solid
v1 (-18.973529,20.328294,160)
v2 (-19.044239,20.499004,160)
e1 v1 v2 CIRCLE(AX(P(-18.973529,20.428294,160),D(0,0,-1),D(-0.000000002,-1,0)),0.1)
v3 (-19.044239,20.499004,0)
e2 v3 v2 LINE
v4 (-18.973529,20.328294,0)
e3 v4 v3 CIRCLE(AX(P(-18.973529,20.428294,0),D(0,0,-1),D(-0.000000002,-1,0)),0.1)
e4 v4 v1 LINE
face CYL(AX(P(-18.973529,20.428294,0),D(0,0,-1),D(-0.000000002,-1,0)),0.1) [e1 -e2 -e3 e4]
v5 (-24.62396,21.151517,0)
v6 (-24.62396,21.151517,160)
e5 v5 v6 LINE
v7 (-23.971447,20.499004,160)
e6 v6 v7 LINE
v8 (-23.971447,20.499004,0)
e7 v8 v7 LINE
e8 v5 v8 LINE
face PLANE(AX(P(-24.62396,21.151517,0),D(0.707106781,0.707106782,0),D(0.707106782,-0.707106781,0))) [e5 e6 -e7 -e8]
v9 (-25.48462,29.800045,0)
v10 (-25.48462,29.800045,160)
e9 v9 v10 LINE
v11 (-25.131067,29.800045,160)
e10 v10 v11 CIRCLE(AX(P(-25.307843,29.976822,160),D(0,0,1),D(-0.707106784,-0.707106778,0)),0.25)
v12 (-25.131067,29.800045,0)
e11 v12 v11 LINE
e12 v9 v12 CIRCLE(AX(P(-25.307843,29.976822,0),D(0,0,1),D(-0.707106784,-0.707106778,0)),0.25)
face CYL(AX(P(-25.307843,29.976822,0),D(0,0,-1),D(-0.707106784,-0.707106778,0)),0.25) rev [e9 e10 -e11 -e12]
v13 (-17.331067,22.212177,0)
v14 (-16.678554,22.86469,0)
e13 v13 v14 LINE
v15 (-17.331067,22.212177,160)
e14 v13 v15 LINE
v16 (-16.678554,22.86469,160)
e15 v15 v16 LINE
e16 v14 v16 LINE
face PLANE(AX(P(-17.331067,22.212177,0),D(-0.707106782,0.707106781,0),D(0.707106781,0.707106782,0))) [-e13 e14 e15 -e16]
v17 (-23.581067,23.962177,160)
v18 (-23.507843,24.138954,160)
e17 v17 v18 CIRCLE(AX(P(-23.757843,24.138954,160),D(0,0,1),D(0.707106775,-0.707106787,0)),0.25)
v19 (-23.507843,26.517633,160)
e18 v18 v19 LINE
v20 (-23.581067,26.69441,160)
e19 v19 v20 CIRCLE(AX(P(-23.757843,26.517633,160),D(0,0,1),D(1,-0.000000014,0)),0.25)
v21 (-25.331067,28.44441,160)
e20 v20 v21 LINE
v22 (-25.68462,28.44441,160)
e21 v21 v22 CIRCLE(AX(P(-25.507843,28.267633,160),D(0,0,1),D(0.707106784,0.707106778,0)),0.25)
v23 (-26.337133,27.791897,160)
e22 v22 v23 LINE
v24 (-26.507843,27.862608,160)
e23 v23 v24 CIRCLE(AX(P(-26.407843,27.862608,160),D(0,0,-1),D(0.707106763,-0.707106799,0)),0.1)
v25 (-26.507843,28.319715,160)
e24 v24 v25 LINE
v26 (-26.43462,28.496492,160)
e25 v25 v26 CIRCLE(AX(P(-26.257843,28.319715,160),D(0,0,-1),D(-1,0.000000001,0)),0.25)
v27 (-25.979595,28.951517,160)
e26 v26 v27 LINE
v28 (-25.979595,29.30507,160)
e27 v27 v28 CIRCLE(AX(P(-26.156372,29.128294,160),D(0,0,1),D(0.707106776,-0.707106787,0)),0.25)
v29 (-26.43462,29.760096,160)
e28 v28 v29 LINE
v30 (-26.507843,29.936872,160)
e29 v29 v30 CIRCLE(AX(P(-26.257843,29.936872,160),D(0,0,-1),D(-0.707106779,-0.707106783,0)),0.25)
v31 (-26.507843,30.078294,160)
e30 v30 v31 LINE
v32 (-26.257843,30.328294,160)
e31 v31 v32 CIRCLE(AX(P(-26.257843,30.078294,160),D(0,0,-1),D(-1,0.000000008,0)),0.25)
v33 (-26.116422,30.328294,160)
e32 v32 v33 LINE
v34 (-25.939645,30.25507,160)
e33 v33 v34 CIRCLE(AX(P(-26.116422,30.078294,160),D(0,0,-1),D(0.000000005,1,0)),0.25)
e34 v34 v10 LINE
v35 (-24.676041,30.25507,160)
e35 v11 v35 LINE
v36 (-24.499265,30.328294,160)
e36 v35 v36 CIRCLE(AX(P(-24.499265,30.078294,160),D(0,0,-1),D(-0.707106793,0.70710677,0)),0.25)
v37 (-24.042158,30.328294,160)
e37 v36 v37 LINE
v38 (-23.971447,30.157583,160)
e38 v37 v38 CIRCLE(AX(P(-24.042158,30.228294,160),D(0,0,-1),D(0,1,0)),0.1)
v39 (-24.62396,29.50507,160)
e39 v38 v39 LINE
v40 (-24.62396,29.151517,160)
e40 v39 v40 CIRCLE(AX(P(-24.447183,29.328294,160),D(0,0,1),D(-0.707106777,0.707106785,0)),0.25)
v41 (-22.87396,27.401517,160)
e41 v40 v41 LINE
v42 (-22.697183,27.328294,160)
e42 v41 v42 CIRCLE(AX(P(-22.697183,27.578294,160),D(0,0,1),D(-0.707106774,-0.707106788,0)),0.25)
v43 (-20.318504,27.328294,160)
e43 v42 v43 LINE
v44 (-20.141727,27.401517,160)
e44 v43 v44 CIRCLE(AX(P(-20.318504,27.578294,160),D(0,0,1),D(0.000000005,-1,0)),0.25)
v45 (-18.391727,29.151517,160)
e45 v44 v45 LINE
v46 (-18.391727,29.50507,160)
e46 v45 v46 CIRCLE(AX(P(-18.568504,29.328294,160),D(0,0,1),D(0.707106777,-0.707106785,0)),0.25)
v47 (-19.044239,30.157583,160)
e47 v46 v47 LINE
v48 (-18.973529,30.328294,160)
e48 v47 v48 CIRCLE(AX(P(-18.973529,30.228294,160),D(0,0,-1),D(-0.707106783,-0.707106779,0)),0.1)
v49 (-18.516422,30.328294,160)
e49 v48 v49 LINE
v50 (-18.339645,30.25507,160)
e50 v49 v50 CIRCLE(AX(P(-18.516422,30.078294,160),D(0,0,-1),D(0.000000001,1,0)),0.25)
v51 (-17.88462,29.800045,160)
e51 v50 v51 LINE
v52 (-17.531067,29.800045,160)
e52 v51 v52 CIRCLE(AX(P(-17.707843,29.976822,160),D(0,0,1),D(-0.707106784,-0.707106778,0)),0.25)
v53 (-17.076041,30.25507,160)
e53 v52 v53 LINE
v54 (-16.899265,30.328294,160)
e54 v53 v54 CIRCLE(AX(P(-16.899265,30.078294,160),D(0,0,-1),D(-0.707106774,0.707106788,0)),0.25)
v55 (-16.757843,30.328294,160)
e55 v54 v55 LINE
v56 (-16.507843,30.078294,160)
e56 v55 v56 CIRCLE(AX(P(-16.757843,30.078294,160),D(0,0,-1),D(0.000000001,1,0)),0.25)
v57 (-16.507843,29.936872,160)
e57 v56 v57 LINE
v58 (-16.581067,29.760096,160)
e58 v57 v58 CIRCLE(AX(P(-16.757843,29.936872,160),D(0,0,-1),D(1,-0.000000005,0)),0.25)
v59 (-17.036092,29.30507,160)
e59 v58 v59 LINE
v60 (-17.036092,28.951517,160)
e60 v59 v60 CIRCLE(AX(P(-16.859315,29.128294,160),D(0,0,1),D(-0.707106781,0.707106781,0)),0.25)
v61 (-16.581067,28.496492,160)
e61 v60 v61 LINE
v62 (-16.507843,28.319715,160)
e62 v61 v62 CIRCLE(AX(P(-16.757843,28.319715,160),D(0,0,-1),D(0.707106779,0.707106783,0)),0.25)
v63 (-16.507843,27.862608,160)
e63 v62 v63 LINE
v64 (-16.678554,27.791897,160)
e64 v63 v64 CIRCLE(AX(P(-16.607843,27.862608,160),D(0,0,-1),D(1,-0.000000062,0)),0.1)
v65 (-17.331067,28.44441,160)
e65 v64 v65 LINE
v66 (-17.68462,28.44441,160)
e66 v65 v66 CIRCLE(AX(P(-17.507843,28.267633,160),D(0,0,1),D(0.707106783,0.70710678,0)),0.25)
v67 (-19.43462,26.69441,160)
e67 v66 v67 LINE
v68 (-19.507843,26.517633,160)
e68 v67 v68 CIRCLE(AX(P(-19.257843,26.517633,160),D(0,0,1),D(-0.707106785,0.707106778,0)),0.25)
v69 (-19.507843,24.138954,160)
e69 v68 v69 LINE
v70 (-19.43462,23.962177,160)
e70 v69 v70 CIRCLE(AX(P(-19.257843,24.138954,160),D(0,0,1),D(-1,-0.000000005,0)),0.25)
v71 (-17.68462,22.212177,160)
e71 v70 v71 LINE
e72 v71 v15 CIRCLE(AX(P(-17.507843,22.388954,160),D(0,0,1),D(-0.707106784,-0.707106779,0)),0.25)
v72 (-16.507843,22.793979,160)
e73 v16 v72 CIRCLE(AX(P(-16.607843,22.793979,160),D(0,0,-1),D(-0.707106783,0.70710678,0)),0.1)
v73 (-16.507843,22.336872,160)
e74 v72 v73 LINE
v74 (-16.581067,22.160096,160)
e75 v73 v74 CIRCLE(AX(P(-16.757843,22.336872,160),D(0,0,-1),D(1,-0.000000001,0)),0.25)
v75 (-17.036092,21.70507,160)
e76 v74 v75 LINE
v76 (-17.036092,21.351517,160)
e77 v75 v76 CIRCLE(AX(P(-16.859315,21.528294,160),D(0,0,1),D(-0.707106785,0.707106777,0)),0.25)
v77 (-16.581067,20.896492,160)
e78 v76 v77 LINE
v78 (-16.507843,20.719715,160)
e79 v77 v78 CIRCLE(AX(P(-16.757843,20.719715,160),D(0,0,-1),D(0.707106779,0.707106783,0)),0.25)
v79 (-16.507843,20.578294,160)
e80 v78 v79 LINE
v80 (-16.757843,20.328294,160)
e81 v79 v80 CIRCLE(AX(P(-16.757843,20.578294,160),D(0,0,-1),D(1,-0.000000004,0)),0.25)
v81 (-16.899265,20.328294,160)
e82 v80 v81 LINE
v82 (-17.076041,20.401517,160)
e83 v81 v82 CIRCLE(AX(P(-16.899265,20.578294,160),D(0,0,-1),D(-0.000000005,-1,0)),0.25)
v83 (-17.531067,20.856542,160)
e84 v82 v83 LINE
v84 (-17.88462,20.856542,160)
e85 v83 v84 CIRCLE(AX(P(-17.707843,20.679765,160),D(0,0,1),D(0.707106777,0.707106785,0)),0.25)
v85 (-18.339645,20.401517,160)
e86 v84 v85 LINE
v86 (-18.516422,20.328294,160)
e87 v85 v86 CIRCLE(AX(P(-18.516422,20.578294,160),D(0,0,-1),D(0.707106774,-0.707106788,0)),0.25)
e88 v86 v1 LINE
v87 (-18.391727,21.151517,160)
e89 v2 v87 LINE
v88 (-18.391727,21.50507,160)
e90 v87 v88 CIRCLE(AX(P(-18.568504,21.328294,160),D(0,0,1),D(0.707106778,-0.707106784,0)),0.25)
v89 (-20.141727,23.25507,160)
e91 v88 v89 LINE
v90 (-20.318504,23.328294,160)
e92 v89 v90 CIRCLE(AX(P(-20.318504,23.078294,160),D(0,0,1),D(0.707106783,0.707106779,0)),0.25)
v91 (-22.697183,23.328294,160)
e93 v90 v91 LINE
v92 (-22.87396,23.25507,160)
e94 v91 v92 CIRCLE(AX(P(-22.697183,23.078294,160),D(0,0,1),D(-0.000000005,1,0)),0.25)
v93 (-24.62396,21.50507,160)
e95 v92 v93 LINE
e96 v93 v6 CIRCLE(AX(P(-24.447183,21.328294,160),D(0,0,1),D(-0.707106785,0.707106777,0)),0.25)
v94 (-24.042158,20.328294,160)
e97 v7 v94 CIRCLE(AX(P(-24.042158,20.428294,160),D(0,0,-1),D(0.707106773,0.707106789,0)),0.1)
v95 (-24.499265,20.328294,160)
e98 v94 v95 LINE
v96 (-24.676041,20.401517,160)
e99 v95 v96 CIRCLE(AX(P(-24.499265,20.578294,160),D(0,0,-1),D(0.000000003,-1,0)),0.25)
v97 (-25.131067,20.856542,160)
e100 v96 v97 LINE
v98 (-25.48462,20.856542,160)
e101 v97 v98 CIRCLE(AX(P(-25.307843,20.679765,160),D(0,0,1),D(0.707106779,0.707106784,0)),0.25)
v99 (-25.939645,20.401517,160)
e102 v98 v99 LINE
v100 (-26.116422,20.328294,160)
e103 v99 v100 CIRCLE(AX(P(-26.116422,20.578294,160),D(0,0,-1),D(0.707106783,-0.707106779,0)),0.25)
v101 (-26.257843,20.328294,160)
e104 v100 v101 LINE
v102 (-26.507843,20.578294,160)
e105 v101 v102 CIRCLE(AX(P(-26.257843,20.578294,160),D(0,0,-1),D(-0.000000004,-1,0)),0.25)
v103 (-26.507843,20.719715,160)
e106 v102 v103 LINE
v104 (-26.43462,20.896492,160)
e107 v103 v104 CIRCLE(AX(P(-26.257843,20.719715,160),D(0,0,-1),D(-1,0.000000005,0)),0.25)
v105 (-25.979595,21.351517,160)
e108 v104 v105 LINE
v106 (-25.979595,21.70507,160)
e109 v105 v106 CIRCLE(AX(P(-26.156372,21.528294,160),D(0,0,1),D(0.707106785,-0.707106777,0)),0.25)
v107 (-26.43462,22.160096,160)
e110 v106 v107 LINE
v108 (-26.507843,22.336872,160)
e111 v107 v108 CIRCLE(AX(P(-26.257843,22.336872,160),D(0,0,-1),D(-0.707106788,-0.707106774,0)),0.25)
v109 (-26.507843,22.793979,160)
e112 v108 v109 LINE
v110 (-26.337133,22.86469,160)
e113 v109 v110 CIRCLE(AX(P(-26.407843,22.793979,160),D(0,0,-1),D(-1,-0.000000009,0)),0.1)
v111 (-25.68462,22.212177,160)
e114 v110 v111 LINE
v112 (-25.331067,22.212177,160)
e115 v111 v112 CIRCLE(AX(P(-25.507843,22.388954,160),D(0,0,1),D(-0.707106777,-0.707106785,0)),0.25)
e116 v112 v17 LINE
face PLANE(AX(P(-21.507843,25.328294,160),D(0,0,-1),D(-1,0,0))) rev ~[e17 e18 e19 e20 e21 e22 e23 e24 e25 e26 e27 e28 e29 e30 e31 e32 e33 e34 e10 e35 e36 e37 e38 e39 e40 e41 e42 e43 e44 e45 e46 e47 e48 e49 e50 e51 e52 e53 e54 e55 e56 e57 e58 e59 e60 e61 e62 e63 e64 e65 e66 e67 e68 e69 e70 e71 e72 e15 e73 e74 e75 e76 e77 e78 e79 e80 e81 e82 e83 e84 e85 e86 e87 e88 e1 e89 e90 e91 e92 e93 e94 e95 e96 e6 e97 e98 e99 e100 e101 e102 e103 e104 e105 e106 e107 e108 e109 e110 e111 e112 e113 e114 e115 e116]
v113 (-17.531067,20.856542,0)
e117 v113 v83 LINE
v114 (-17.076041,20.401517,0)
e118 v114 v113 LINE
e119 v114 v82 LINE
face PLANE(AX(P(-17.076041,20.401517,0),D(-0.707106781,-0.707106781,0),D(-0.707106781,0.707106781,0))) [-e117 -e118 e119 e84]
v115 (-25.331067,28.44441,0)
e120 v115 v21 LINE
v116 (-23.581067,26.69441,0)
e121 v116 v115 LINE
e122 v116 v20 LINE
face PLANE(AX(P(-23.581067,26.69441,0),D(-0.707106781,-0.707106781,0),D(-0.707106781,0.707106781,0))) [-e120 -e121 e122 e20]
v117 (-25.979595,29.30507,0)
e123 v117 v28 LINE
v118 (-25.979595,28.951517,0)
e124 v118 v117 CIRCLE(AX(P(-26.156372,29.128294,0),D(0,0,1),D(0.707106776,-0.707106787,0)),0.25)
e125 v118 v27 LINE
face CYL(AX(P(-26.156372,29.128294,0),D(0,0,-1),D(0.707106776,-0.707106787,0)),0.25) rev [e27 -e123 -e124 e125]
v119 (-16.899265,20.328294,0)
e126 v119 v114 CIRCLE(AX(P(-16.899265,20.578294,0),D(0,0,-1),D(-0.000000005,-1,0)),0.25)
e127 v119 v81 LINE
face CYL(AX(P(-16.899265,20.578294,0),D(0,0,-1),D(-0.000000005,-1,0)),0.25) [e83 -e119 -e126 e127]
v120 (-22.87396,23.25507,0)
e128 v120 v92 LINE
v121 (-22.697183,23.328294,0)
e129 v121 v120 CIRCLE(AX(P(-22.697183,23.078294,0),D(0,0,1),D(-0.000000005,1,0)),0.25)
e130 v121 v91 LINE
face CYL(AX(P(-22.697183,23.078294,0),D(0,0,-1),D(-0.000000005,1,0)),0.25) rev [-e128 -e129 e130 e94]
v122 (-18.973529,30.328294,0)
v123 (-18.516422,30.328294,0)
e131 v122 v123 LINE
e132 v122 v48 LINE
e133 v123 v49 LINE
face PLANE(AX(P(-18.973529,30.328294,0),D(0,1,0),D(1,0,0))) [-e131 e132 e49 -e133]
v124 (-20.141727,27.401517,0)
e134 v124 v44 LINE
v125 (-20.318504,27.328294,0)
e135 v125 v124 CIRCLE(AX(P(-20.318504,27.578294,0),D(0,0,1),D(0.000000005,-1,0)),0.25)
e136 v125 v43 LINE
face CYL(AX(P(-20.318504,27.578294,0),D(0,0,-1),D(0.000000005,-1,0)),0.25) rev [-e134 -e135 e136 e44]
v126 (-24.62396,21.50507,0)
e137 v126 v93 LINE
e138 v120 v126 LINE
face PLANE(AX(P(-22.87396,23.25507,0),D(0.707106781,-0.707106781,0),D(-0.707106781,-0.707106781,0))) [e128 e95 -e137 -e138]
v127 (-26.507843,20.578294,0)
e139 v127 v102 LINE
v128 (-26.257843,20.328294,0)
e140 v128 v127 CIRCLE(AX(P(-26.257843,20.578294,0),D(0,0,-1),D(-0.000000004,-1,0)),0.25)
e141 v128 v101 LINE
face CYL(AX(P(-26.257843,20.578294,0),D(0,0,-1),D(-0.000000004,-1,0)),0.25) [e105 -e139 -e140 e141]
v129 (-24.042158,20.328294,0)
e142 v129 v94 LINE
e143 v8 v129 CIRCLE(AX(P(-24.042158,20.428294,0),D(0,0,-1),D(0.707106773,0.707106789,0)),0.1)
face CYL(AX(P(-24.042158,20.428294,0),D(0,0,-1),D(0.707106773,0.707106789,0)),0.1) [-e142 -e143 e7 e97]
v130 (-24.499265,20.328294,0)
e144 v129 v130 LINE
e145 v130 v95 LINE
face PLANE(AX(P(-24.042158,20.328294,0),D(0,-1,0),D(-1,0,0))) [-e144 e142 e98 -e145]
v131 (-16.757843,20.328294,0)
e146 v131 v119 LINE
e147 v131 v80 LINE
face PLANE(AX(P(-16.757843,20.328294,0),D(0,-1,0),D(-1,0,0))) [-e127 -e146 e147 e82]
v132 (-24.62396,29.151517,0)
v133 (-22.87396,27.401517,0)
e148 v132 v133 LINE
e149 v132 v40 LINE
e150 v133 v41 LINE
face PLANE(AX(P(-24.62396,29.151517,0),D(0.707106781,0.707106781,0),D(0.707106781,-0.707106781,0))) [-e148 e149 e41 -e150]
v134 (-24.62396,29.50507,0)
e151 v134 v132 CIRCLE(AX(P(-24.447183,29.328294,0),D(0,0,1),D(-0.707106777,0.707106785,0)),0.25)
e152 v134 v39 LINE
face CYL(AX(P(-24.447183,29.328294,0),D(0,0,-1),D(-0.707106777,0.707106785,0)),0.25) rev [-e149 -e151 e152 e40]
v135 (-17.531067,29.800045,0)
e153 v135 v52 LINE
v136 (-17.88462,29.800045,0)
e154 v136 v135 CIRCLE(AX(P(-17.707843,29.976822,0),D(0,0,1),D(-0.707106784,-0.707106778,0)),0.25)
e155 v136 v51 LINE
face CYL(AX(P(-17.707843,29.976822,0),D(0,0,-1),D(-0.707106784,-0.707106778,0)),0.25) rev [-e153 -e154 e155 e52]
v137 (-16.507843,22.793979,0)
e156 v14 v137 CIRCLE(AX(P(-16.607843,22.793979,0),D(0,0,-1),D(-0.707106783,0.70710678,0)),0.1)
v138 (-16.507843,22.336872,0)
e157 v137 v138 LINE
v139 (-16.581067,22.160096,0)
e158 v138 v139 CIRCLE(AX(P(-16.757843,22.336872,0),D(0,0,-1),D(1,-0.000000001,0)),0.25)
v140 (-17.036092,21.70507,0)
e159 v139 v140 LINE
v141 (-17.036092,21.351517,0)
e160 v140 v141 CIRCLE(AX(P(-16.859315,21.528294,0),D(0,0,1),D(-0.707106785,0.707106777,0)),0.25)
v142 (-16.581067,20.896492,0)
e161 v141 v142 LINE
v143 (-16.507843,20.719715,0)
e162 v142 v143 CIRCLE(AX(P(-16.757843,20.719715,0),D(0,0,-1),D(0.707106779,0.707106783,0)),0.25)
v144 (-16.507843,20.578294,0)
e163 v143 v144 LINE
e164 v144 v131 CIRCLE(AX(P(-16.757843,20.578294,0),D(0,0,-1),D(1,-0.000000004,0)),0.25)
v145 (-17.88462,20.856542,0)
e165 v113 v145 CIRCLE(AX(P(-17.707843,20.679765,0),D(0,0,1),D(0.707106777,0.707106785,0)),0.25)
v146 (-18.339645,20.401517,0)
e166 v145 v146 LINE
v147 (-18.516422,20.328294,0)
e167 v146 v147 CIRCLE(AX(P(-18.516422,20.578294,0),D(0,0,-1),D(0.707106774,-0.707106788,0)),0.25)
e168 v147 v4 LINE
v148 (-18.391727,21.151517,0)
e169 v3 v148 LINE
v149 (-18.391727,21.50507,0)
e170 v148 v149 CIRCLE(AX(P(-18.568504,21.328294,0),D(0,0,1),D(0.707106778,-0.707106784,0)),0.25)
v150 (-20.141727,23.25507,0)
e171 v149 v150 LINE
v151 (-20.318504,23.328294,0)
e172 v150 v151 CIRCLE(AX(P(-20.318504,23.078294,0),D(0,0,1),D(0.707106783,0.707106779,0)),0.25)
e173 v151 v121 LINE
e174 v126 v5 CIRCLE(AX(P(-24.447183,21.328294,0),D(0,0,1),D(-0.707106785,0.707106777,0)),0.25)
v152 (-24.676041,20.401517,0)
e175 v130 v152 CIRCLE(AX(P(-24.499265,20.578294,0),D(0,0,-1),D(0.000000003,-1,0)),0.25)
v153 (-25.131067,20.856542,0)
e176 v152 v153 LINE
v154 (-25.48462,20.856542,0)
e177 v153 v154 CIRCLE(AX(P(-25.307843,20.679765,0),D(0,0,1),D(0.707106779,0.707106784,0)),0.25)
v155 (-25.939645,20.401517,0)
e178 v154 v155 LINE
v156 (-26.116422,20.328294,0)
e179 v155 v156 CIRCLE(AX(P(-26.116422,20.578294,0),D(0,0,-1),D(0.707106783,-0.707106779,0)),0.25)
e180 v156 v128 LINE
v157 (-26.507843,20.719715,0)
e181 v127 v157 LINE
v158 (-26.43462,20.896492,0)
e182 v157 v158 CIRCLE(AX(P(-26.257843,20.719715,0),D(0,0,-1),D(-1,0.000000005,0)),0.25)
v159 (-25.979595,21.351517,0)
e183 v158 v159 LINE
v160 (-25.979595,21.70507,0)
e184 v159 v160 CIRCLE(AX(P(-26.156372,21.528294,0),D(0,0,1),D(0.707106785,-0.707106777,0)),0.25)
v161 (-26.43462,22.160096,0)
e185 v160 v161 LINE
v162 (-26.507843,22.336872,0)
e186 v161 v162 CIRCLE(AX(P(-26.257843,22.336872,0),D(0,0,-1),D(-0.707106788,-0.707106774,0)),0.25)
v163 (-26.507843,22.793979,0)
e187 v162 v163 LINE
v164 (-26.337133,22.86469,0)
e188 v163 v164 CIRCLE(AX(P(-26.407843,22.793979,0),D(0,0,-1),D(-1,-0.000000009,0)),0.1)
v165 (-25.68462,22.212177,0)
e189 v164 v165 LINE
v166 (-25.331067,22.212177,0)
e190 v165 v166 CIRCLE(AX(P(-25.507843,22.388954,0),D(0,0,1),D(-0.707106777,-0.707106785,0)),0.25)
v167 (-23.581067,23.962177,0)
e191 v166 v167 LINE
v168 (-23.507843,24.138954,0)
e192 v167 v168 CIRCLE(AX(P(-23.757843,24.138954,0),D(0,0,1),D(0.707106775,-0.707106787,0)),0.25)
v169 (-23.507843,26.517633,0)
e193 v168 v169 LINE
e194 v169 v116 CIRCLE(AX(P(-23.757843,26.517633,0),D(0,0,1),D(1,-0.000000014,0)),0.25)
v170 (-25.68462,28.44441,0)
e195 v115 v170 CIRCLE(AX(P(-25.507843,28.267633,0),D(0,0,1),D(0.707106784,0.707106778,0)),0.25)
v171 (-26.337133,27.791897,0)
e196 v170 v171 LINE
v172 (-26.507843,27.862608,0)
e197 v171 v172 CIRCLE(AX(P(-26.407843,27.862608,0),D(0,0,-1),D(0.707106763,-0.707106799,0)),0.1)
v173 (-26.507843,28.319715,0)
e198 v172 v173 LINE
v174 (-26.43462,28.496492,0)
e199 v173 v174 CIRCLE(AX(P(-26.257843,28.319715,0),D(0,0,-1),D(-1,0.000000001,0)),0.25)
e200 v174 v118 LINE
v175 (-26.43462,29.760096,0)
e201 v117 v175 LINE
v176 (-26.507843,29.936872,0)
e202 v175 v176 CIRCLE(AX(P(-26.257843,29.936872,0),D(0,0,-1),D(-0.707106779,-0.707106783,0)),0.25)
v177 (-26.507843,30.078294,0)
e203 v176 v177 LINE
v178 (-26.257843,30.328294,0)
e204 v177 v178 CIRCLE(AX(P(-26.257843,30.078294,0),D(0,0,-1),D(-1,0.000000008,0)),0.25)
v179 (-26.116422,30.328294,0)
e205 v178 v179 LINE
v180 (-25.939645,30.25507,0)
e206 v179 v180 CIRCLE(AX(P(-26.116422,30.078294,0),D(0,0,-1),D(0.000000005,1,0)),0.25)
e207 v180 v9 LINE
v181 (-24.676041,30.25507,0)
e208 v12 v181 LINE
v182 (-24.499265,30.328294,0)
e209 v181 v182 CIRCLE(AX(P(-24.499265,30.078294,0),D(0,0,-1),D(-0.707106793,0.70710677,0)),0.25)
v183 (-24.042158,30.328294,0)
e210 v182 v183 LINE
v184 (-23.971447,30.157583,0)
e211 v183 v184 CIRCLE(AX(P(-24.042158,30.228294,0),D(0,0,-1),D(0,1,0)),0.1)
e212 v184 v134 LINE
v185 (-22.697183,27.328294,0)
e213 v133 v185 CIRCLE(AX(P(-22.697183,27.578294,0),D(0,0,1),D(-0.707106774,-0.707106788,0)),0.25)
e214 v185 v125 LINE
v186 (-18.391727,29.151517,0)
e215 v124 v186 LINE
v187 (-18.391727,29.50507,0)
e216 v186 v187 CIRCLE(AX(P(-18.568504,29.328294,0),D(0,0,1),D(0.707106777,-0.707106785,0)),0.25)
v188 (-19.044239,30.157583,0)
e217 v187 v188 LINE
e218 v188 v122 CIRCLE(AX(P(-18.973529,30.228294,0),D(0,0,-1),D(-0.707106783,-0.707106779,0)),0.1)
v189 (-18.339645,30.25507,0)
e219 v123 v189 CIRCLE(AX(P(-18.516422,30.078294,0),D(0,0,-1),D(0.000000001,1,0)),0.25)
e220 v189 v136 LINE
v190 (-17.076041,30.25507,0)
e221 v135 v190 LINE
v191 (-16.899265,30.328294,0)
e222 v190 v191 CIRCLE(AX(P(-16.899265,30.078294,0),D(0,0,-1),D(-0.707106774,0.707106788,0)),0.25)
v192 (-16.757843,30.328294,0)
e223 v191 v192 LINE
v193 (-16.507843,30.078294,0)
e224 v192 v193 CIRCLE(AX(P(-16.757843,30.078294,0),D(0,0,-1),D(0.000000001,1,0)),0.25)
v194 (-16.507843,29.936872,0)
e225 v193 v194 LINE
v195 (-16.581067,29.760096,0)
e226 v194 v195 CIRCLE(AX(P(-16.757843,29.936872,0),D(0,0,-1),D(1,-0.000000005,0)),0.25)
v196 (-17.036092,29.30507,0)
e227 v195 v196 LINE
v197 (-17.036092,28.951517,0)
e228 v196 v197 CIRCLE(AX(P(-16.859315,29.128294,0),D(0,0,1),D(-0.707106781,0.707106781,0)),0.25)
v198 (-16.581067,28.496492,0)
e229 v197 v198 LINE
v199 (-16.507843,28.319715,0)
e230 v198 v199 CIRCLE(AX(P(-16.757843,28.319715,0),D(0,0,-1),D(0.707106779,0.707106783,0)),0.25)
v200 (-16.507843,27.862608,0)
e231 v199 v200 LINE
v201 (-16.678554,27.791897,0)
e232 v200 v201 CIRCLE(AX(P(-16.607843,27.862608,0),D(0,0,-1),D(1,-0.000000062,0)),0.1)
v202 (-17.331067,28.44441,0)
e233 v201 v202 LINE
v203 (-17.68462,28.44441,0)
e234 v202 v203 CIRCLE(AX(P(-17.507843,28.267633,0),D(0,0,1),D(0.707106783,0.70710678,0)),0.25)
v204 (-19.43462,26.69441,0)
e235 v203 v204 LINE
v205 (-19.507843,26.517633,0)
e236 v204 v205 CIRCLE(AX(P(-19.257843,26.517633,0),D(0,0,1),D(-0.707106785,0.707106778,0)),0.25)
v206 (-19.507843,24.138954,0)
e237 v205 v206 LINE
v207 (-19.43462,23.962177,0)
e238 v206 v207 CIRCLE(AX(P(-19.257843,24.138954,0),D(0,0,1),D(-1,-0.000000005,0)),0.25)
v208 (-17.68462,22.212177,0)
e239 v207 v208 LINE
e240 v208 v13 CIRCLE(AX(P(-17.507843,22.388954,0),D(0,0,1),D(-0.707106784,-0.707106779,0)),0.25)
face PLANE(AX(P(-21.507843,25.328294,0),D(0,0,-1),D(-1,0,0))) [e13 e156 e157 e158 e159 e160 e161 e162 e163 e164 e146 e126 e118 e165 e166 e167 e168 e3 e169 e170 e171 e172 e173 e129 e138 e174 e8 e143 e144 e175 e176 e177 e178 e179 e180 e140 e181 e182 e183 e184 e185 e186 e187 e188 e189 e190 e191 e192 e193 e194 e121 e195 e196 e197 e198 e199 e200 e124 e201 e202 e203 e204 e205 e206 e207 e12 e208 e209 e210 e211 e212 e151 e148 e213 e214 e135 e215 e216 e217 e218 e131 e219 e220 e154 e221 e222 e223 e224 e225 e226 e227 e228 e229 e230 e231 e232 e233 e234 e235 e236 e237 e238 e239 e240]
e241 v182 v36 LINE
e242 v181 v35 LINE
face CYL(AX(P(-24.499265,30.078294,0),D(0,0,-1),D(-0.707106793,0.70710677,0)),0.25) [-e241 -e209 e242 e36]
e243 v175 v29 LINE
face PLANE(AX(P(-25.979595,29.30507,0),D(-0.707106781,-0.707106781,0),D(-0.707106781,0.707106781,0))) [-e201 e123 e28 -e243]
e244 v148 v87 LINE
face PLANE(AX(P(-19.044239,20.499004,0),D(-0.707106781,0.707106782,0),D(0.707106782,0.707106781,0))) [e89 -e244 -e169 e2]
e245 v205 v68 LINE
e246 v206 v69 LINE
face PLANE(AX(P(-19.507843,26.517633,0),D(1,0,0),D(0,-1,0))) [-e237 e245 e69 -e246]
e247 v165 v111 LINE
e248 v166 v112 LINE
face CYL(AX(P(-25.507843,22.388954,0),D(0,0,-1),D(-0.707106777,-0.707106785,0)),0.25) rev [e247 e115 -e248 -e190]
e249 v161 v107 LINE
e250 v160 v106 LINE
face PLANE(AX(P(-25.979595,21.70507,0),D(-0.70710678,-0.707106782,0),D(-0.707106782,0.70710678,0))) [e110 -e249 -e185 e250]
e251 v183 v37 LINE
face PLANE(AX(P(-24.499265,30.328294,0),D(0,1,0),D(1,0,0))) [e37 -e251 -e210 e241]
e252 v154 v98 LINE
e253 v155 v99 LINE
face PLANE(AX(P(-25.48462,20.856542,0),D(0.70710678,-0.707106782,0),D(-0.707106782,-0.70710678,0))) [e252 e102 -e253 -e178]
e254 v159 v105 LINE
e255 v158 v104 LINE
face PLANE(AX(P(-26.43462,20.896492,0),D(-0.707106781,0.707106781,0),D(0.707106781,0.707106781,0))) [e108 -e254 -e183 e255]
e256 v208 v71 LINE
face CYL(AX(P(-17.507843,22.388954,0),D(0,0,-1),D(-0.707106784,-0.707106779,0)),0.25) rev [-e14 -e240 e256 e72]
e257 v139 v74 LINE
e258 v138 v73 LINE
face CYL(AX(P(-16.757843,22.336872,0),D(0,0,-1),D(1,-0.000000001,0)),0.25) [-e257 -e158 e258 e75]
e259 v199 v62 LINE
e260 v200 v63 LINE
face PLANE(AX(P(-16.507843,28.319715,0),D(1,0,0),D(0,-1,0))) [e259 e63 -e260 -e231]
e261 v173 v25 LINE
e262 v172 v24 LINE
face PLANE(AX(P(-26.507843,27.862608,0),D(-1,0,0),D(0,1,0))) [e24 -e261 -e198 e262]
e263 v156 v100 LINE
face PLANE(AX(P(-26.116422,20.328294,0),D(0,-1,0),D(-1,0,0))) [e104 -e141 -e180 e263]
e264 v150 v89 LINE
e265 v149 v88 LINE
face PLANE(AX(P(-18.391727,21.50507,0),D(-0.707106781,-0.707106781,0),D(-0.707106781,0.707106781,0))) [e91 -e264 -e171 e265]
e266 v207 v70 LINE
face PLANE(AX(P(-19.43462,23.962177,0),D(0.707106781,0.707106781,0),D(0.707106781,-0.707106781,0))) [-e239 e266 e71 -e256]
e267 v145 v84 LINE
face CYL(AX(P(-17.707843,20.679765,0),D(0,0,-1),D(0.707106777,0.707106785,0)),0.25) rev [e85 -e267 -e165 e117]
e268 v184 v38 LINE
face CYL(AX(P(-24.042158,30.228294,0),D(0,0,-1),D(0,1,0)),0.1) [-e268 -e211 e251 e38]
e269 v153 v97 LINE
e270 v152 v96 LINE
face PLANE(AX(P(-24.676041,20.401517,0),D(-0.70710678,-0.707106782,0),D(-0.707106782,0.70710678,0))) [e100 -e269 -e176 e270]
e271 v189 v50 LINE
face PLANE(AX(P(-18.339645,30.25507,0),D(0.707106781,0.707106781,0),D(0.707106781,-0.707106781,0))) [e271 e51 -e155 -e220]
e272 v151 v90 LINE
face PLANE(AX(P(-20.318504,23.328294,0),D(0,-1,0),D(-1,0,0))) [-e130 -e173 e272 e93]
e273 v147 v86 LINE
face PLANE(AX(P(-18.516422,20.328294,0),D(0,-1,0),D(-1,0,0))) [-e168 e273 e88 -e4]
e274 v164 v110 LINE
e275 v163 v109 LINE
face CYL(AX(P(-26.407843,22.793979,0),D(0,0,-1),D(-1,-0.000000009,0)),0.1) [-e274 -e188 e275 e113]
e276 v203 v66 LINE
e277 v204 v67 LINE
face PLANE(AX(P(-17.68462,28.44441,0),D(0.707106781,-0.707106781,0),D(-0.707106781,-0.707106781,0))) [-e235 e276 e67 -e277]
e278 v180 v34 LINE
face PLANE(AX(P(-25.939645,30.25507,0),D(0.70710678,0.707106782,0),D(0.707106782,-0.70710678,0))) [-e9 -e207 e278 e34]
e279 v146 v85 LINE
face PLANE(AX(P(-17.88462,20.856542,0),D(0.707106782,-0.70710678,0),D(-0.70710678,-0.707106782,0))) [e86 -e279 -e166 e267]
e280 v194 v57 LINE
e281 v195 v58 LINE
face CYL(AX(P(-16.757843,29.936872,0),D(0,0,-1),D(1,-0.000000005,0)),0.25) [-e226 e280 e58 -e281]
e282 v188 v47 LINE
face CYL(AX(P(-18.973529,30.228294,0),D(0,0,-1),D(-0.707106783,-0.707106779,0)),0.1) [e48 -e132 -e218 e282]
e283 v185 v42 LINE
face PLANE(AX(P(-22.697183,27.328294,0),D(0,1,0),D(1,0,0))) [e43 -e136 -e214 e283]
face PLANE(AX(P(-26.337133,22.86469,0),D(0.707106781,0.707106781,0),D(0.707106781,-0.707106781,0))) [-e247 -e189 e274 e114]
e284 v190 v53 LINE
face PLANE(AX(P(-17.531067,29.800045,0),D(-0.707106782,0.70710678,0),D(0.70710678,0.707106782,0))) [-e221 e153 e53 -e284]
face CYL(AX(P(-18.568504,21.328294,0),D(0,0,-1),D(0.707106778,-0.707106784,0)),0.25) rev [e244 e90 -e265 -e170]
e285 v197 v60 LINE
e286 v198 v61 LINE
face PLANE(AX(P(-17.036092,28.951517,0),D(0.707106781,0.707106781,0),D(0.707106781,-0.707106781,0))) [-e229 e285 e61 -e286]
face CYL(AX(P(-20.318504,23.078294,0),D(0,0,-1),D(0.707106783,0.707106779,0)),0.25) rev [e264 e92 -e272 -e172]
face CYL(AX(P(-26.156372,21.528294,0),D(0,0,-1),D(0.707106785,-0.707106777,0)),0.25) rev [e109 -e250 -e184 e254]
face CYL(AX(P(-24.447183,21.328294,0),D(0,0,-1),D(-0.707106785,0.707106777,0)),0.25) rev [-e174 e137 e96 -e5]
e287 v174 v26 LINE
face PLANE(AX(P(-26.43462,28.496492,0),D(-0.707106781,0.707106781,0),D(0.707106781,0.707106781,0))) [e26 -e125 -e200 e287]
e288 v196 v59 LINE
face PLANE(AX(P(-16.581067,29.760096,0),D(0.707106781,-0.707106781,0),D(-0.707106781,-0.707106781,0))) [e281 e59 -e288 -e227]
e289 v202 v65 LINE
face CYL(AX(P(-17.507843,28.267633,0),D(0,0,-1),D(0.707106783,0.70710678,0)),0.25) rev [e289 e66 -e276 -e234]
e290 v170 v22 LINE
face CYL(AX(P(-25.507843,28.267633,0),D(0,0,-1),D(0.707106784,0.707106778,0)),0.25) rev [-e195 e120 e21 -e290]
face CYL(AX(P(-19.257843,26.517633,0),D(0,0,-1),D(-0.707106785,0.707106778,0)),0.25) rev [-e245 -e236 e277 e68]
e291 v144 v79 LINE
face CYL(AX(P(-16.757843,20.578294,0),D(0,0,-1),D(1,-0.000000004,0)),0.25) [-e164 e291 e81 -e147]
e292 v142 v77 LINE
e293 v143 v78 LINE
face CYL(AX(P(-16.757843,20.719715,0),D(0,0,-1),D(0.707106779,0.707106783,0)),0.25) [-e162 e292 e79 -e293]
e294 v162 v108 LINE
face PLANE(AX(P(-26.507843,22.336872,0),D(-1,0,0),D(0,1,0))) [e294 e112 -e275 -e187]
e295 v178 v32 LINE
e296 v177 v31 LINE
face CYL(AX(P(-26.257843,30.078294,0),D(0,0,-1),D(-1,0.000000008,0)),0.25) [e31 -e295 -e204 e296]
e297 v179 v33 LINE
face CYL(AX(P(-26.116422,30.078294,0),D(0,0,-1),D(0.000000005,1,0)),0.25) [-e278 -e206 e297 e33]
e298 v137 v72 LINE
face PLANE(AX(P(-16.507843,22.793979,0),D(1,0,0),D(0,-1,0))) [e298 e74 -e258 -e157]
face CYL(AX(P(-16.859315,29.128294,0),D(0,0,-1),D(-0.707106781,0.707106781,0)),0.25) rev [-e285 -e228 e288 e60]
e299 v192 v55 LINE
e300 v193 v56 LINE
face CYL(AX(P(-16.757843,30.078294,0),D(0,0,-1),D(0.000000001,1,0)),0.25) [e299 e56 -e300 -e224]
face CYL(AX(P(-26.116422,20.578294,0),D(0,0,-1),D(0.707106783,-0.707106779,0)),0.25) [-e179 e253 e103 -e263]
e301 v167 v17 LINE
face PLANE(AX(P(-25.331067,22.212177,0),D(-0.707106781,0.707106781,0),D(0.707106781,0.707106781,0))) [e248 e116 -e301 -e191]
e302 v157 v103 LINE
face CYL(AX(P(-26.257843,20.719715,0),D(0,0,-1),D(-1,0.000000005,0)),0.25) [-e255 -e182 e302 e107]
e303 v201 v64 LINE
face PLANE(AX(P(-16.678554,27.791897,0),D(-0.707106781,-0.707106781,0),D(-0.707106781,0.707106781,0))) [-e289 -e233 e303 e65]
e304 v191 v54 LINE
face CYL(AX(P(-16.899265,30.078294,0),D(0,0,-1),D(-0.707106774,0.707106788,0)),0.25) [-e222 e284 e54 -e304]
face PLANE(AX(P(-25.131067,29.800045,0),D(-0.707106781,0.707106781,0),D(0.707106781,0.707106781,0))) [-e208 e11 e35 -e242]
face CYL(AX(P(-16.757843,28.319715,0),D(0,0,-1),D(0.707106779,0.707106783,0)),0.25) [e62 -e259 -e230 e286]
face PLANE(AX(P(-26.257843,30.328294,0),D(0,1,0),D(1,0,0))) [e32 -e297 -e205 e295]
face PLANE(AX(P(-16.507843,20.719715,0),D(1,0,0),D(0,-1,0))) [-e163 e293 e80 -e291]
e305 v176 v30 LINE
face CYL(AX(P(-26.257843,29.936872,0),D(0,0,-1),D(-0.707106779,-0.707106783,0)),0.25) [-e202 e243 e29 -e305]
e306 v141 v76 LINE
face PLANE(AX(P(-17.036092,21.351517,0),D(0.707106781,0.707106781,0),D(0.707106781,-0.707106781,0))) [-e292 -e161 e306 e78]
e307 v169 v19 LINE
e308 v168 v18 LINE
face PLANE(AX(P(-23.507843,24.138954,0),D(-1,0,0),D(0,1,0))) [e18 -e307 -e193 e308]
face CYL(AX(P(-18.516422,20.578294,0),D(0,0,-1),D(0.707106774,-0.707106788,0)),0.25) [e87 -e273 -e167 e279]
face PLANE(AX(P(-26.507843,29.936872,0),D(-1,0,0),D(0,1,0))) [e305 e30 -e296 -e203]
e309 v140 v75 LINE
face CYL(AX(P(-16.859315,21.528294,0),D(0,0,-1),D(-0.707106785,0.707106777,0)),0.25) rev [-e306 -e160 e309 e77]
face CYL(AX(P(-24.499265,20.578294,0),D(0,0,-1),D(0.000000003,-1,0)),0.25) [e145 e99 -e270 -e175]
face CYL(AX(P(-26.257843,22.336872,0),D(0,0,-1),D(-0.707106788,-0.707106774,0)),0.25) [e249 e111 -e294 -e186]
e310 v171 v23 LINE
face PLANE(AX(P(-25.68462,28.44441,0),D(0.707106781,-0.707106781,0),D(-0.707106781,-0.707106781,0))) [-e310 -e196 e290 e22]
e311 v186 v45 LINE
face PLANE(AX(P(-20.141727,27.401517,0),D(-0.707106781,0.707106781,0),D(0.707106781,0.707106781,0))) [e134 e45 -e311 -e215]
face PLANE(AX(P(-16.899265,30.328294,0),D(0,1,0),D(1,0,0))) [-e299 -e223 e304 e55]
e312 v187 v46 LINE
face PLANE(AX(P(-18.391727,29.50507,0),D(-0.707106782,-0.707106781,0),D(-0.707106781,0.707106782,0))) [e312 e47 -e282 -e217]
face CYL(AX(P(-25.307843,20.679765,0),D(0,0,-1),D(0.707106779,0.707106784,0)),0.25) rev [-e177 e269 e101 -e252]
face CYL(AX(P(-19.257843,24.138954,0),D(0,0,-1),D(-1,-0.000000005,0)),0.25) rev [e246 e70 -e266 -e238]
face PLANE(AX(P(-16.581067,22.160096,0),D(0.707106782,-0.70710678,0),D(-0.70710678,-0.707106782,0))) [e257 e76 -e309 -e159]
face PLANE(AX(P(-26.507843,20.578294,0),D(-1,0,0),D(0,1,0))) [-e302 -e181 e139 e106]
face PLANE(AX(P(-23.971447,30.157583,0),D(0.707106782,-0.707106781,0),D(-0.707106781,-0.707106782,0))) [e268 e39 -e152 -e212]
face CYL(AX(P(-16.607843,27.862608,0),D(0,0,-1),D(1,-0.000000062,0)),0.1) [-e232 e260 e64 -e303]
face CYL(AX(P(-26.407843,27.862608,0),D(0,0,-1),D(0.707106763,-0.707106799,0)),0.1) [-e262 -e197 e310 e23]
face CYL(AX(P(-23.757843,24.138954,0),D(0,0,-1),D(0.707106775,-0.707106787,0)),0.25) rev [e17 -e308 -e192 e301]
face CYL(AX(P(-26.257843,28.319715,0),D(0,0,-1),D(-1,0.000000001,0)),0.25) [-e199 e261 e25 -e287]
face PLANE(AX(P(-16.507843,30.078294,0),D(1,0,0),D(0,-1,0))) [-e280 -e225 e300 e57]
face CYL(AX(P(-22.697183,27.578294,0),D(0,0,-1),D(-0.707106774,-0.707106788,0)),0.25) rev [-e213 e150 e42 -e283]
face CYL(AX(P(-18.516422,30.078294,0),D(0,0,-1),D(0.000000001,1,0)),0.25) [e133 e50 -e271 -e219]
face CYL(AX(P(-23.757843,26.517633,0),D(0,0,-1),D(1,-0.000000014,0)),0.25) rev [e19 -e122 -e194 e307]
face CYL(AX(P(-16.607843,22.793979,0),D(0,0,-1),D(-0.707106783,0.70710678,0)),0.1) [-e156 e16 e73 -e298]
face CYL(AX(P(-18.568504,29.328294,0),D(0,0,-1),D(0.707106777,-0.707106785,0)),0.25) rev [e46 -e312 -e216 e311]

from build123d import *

# Parameters (mm, degrees)
BOSS_EXTRUDE1_DEPTH = 160


with BuildPart() as part:
    # Sketch1 → Boss-Extrude1 (new body)
    with BuildSketch(Plane.XY):
        with BuildLine():
            Line((-26.434620061, 28.496491655), (-25.979594809, 28.951516907))
            ThreePointArc((-25.979594809, 28.951516907), (-25.906371503, 29.128293603), (-25.979594808, 29.305070299))
            Line((-25.979594808, 29.305070299), (-26.43462006, 29.760095551))
            ThreePointArc((-26.43462006, 29.760095551), (-26.488813248, 29.841201388), (-26.507843365, 29.936872247))
            Line((-26.507843365, 29.936872247), (-26.507843365, 30.078293605))
            ThreePointArc((-26.507843365, 30.078293605), (-26.43462006, 30.255070299), (-26.257843366, 30.328293604))
            Line((-26.257843366, 30.328293604), (-26.11642201, 30.328293604))
            ThreePointArc((-26.11642201, 30.328293604), (-26.020751153, 30.309263487), (-25.939645316, 30.255070299))
            Line((-25.939645316, 30.255070299), (-25.484620061, 29.800045045))
            ThreePointArc((-25.484620061, 29.800045045), (-25.307843366, 29.72682174), (-25.131066671, 29.800045045))
            Line((-25.131066671, 29.800045045), (-24.676041418, 30.255070298))
            ThreePointArc((-24.676041418, 30.255070298), (-24.594935581, 30.309263487), (-24.499264722, 30.328293604))
            Line((-24.499264722, 30.328293604), (-24.042157942, 30.328293604))
            ThreePointArc((-24.042157942, 30.328293604), (-23.949769989, 30.266561947), (-23.971447265, 30.157582926))
            Line((-23.971447265, 30.157582926), (-24.623959891, 29.505070299))
            ThreePointArc((-24.623959891, 29.505070299), (-24.697183196, 29.328293604), (-24.623959891, 29.15151691))
            Line((-24.623959891, 29.15151691), (-22.873959891, 27.401516909))
            ThreePointArc((-22.873959891, 27.401516909), (-22.792854054, 27.347323722), (-22.697183196, 27.328293605))
            Line((-22.697183196, 27.328293605), (-20.318503539, 27.328293605))
            ThreePointArc((-20.318503539, 27.328293605), (-20.222832681, 27.347323722), (-20.141726844, 27.401516909))
            Line((-20.141726844, 27.401516909), (-18.391726844, 29.15151691))
            ThreePointArc((-18.391726844, 29.15151691), (-18.318503539, 29.328293604), (-18.391726844, 29.505070299))
            Line((-18.391726844, 29.505070299), (-19.04423947, 30.157582926))
            ThreePointArc((-19.04423947, 30.157582926), (-19.065916745, 30.266561947), (-18.973528793, 30.328293604))
            Line((-18.973528793, 30.328293604), (-18.516422013, 30.328293604))
            ThreePointArc((-18.516422013, 30.328293604), (-18.420751155, 30.309263487), (-18.339645319, 30.2550703))
            Line((-18.339645319, 30.2550703), (-17.884620064, 29.800045045))
            ThreePointArc((-17.884620064, 29.800045045), (-17.707843369, 29.72682174), (-17.531066674, 29.800045045))
            Line((-17.531066674, 29.800045045), (-17.07604142, 30.2550703))
            ThreePointArc((-17.07604142, 30.2550703), (-16.994935583, 30.309263487), (-16.899264725, 30.328293604))
            Line((-16.899264725, 30.328293604), (-16.75784337, 30.328293604))
            ThreePointArc((-16.75784337, 30.328293604), (-16.581066675, 30.255070299), (-16.507843371, 30.078293605))
            Line((-16.507843371, 30.078293605), (-16.507843371, 29.936872247))
            ThreePointArc((-16.507843371, 29.936872247), (-16.526873488, 29.841201389), (-16.581066675, 29.760095552))
            Line((-16.581066675, 29.760095552), (-17.036091927, 29.3050703))
            ThreePointArc((-17.036091927, 29.3050703), (-17.109315232, 29.128293603), (-17.036091926, 28.951516907))
            Line((-17.036091926, 28.951516907), (-16.581066674, 28.496491655))
            ThreePointArc((-16.581066674, 28.496491655), (-16.526873486, 28.415385818), (-16.507843369, 28.31971496))
            Line((-16.507843369, 28.31971496), (-16.507843369, 27.862608178))
            ThreePointArc((-16.507843369, 27.862608178), (-16.569575025, 27.770220231), (-16.678554041, 27.791897499))
            Line((-16.678554041, 27.791897499), (-17.331066668, 28.444410126))
            ThreePointArc((-17.331066668, 28.444410126), (-17.507843364, 28.517633431), (-17.68462006, 28.444410125))
            Line((-17.68462006, 28.444410125), (-19.434620061, 26.694410125))
            ThreePointArc((-19.434620061, 26.694410125), (-19.488813248, 26.613304288), (-19.507843364, 26.51763343))
            Line((-19.507843364, 26.51763343), (-19.507843364, 24.138953775))
            ThreePointArc((-19.507843364, 24.138953775), (-19.488813247, 24.043282917), (-19.434620059, 23.962177079))
            Line((-19.434620059, 23.962177079), (-17.684620059, 22.212177079))
            ThreePointArc((-17.684620059, 22.212177079), (-17.507843363, 22.138953773), (-17.331066666, 22.212177077))
            Line((-17.331066666, 22.212177077), (-16.67855404, 22.864689704))
            ThreePointArc((-16.67855404, 22.864689704), (-16.569575019, 22.886366979), (-16.507843363, 22.793979027))
            Line((-16.507843363, 22.793979027), (-16.507843363, 22.336872245))
            ThreePointArc((-16.507843363, 22.336872245), (-16.52687348, 22.241201387), (-16.581066668, 22.16009555))
            Line((-16.581066668, 22.16009555), (-17.036091921, 21.705070296))
            ThreePointArc((-17.036091921, 21.705070296), (-17.109315225, 21.528293601), (-17.036091921, 21.351516906))
            Line((-17.036091921, 21.351516906), (-16.581066669, 20.896491654))
            ThreePointArc((-16.581066669, 20.896491654), (-16.526873481, 20.815385817), (-16.507843364, 20.719714959))
            Line((-16.507843364, 20.719714959), (-16.507843364, 20.578293601))
            ThreePointArc((-16.507843364, 20.578293601), (-16.581066669, 20.401516906), (-16.757843364, 20.328293601))
            Line((-16.757843364, 20.328293601), (-16.89926472, 20.328293601))
            ThreePointArc((-16.89926472, 20.328293601), (-16.994935578, 20.347323718), (-17.076041415, 20.401516905))
            Line((-17.076041415, 20.401516905), (-17.53106667, 20.85654216))
            ThreePointArc((-17.53106667, 20.85654216), (-17.707843365, 20.929765464), (-17.88462006, 20.85654216))
            Line((-17.88462006, 20.85654216), (-18.339645314, 20.401516905))
            ThreePointArc((-18.339645314, 20.401516905), (-18.420751151, 20.347323718), (-18.516422009, 20.328293601))
            Line((-18.516422009, 20.328293601), (-18.973528789, 20.328293601))
            ThreePointArc((-18.973528789, 20.328293601), (-19.065916743, 20.390025258), (-19.044239468, 20.499004281))
            Line((-19.044239468, 20.499004281), (-18.391726841, 21.151516907))
            ThreePointArc((-18.391726841, 21.151516907), (-18.318503536, 21.328293602), (-18.391726841, 21.505070297))
            Line((-18.391726841, 21.505070297), (-20.141726841, 23.255070297))
            ThreePointArc((-20.141726841, 23.255070297), (-20.222832678, 23.309263485), (-20.318503536, 23.328293602))
            Line((-20.318503536, 23.328293602), (-22.697183193, 23.328293602))
            ThreePointArc((-22.697183193, 23.328293602), (-22.792854051, 23.309263485), (-22.873959889, 23.255070297))
            Line((-22.873959889, 23.255070297), (-24.623959889, 21.505070297))
            ThreePointArc((-24.623959889, 21.505070297), (-24.697183193, 21.328293602), (-24.623959889, 21.151516907))
            Line((-24.623959889, 21.151516907), (-23.971447262, 20.499004281))
            ThreePointArc((-23.971447262, 20.499004281), (-23.949769986, 20.390025258), (-24.042157941, 20.328293601))
            Line((-24.042157941, 20.328293601), (-24.49926472, 20.328293601))
            ThreePointArc((-24.49926472, 20.328293601), (-24.594935579, 20.347323718), (-24.676041417, 20.401516907))
            Line((-24.676041417, 20.401516907), (-25.131066671, 20.85654216))
            ThreePointArc((-25.131066671, 20.85654216), (-25.307843365, 20.929765464), (-25.48462006, 20.85654216))
            Line((-25.48462006, 20.85654216), (-25.939645315, 20.401516906))
            ThreePointArc((-25.939645315, 20.401516906), (-26.020751152, 20.347323718), (-26.11642201, 20.328293601))
            Line((-26.11642201, 20.328293601), (-26.257843366, 20.328293601))
            ThreePointArc((-26.257843366, 20.328293601), (-26.434620061, 20.401516906), (-26.507843366, 20.578293601))
            Line((-26.507843366, 20.578293601), (-26.507843366, 20.719714959))
            ThreePointArc((-26.507843366, 20.719714959), (-26.488813249, 20.815385817), (-26.434620061, 20.896491655))
            Line((-26.434620061, 20.896491655), (-25.979594809, 21.351516907))
            ThreePointArc((-25.979594809, 21.351516907), (-25.906371505, 21.528293602), (-25.979594809, 21.705070297))
            Line((-25.979594809, 21.705070297), (-26.434620063, 22.16009555))
            ThreePointArc((-26.434620063, 22.16009555), (-26.48881325, 22.241201387), (-26.507843367, 22.336872245))
            Line((-26.507843367, 22.336872245), (-26.507843367, 22.793979027))
            ThreePointArc((-26.507843367, 22.793979027), (-26.446111711, 22.88636698), (-26.337132691, 22.864689705))
            Line((-26.337132691, 22.864689705), (-25.684620064, 22.212177078))
            ThreePointArc((-25.684620064, 22.212177078), (-25.507843369, 22.138953774), (-25.331066674, 22.212177078))
            Line((-25.331066674, 22.212177078), (-23.581066674, 23.962177078))
            ThreePointArc((-23.581066674, 23.962177078), (-23.526873485, 24.043282916), (-23.507843368, 24.138953775))
            Line((-23.507843368, 24.138953775), (-23.507843368, 26.51763343))
            ThreePointArc((-23.507843368, 26.51763343), (-23.526873484, 26.613304288), (-23.581066672, 26.694410125))
            Line((-23.581066672, 26.694410125), (-25.331066672, 28.444410125))
            ThreePointArc((-25.331066672, 28.444410125), (-25.507843367, 28.51763343), (-25.684620062, 28.444410125))
            Line((-25.684620062, 28.444410125), (-26.337132689, 27.791897498))
            ThreePointArc((-26.337132689, 27.791897498), (-26.44611171, 27.770220225), (-26.507843366, 27.862608178))
            Line((-26.507843366, 27.862608178), (-26.507843366, 28.31971496))
            ThreePointArc((-26.507843366, 28.31971496), (-26.488813249, 28.415385818), (-26.434620061, 28.496491655))
        make_face()
    extrude(amount=BOSS_EXTRUDE1_DEPTH)


solid = part.part
